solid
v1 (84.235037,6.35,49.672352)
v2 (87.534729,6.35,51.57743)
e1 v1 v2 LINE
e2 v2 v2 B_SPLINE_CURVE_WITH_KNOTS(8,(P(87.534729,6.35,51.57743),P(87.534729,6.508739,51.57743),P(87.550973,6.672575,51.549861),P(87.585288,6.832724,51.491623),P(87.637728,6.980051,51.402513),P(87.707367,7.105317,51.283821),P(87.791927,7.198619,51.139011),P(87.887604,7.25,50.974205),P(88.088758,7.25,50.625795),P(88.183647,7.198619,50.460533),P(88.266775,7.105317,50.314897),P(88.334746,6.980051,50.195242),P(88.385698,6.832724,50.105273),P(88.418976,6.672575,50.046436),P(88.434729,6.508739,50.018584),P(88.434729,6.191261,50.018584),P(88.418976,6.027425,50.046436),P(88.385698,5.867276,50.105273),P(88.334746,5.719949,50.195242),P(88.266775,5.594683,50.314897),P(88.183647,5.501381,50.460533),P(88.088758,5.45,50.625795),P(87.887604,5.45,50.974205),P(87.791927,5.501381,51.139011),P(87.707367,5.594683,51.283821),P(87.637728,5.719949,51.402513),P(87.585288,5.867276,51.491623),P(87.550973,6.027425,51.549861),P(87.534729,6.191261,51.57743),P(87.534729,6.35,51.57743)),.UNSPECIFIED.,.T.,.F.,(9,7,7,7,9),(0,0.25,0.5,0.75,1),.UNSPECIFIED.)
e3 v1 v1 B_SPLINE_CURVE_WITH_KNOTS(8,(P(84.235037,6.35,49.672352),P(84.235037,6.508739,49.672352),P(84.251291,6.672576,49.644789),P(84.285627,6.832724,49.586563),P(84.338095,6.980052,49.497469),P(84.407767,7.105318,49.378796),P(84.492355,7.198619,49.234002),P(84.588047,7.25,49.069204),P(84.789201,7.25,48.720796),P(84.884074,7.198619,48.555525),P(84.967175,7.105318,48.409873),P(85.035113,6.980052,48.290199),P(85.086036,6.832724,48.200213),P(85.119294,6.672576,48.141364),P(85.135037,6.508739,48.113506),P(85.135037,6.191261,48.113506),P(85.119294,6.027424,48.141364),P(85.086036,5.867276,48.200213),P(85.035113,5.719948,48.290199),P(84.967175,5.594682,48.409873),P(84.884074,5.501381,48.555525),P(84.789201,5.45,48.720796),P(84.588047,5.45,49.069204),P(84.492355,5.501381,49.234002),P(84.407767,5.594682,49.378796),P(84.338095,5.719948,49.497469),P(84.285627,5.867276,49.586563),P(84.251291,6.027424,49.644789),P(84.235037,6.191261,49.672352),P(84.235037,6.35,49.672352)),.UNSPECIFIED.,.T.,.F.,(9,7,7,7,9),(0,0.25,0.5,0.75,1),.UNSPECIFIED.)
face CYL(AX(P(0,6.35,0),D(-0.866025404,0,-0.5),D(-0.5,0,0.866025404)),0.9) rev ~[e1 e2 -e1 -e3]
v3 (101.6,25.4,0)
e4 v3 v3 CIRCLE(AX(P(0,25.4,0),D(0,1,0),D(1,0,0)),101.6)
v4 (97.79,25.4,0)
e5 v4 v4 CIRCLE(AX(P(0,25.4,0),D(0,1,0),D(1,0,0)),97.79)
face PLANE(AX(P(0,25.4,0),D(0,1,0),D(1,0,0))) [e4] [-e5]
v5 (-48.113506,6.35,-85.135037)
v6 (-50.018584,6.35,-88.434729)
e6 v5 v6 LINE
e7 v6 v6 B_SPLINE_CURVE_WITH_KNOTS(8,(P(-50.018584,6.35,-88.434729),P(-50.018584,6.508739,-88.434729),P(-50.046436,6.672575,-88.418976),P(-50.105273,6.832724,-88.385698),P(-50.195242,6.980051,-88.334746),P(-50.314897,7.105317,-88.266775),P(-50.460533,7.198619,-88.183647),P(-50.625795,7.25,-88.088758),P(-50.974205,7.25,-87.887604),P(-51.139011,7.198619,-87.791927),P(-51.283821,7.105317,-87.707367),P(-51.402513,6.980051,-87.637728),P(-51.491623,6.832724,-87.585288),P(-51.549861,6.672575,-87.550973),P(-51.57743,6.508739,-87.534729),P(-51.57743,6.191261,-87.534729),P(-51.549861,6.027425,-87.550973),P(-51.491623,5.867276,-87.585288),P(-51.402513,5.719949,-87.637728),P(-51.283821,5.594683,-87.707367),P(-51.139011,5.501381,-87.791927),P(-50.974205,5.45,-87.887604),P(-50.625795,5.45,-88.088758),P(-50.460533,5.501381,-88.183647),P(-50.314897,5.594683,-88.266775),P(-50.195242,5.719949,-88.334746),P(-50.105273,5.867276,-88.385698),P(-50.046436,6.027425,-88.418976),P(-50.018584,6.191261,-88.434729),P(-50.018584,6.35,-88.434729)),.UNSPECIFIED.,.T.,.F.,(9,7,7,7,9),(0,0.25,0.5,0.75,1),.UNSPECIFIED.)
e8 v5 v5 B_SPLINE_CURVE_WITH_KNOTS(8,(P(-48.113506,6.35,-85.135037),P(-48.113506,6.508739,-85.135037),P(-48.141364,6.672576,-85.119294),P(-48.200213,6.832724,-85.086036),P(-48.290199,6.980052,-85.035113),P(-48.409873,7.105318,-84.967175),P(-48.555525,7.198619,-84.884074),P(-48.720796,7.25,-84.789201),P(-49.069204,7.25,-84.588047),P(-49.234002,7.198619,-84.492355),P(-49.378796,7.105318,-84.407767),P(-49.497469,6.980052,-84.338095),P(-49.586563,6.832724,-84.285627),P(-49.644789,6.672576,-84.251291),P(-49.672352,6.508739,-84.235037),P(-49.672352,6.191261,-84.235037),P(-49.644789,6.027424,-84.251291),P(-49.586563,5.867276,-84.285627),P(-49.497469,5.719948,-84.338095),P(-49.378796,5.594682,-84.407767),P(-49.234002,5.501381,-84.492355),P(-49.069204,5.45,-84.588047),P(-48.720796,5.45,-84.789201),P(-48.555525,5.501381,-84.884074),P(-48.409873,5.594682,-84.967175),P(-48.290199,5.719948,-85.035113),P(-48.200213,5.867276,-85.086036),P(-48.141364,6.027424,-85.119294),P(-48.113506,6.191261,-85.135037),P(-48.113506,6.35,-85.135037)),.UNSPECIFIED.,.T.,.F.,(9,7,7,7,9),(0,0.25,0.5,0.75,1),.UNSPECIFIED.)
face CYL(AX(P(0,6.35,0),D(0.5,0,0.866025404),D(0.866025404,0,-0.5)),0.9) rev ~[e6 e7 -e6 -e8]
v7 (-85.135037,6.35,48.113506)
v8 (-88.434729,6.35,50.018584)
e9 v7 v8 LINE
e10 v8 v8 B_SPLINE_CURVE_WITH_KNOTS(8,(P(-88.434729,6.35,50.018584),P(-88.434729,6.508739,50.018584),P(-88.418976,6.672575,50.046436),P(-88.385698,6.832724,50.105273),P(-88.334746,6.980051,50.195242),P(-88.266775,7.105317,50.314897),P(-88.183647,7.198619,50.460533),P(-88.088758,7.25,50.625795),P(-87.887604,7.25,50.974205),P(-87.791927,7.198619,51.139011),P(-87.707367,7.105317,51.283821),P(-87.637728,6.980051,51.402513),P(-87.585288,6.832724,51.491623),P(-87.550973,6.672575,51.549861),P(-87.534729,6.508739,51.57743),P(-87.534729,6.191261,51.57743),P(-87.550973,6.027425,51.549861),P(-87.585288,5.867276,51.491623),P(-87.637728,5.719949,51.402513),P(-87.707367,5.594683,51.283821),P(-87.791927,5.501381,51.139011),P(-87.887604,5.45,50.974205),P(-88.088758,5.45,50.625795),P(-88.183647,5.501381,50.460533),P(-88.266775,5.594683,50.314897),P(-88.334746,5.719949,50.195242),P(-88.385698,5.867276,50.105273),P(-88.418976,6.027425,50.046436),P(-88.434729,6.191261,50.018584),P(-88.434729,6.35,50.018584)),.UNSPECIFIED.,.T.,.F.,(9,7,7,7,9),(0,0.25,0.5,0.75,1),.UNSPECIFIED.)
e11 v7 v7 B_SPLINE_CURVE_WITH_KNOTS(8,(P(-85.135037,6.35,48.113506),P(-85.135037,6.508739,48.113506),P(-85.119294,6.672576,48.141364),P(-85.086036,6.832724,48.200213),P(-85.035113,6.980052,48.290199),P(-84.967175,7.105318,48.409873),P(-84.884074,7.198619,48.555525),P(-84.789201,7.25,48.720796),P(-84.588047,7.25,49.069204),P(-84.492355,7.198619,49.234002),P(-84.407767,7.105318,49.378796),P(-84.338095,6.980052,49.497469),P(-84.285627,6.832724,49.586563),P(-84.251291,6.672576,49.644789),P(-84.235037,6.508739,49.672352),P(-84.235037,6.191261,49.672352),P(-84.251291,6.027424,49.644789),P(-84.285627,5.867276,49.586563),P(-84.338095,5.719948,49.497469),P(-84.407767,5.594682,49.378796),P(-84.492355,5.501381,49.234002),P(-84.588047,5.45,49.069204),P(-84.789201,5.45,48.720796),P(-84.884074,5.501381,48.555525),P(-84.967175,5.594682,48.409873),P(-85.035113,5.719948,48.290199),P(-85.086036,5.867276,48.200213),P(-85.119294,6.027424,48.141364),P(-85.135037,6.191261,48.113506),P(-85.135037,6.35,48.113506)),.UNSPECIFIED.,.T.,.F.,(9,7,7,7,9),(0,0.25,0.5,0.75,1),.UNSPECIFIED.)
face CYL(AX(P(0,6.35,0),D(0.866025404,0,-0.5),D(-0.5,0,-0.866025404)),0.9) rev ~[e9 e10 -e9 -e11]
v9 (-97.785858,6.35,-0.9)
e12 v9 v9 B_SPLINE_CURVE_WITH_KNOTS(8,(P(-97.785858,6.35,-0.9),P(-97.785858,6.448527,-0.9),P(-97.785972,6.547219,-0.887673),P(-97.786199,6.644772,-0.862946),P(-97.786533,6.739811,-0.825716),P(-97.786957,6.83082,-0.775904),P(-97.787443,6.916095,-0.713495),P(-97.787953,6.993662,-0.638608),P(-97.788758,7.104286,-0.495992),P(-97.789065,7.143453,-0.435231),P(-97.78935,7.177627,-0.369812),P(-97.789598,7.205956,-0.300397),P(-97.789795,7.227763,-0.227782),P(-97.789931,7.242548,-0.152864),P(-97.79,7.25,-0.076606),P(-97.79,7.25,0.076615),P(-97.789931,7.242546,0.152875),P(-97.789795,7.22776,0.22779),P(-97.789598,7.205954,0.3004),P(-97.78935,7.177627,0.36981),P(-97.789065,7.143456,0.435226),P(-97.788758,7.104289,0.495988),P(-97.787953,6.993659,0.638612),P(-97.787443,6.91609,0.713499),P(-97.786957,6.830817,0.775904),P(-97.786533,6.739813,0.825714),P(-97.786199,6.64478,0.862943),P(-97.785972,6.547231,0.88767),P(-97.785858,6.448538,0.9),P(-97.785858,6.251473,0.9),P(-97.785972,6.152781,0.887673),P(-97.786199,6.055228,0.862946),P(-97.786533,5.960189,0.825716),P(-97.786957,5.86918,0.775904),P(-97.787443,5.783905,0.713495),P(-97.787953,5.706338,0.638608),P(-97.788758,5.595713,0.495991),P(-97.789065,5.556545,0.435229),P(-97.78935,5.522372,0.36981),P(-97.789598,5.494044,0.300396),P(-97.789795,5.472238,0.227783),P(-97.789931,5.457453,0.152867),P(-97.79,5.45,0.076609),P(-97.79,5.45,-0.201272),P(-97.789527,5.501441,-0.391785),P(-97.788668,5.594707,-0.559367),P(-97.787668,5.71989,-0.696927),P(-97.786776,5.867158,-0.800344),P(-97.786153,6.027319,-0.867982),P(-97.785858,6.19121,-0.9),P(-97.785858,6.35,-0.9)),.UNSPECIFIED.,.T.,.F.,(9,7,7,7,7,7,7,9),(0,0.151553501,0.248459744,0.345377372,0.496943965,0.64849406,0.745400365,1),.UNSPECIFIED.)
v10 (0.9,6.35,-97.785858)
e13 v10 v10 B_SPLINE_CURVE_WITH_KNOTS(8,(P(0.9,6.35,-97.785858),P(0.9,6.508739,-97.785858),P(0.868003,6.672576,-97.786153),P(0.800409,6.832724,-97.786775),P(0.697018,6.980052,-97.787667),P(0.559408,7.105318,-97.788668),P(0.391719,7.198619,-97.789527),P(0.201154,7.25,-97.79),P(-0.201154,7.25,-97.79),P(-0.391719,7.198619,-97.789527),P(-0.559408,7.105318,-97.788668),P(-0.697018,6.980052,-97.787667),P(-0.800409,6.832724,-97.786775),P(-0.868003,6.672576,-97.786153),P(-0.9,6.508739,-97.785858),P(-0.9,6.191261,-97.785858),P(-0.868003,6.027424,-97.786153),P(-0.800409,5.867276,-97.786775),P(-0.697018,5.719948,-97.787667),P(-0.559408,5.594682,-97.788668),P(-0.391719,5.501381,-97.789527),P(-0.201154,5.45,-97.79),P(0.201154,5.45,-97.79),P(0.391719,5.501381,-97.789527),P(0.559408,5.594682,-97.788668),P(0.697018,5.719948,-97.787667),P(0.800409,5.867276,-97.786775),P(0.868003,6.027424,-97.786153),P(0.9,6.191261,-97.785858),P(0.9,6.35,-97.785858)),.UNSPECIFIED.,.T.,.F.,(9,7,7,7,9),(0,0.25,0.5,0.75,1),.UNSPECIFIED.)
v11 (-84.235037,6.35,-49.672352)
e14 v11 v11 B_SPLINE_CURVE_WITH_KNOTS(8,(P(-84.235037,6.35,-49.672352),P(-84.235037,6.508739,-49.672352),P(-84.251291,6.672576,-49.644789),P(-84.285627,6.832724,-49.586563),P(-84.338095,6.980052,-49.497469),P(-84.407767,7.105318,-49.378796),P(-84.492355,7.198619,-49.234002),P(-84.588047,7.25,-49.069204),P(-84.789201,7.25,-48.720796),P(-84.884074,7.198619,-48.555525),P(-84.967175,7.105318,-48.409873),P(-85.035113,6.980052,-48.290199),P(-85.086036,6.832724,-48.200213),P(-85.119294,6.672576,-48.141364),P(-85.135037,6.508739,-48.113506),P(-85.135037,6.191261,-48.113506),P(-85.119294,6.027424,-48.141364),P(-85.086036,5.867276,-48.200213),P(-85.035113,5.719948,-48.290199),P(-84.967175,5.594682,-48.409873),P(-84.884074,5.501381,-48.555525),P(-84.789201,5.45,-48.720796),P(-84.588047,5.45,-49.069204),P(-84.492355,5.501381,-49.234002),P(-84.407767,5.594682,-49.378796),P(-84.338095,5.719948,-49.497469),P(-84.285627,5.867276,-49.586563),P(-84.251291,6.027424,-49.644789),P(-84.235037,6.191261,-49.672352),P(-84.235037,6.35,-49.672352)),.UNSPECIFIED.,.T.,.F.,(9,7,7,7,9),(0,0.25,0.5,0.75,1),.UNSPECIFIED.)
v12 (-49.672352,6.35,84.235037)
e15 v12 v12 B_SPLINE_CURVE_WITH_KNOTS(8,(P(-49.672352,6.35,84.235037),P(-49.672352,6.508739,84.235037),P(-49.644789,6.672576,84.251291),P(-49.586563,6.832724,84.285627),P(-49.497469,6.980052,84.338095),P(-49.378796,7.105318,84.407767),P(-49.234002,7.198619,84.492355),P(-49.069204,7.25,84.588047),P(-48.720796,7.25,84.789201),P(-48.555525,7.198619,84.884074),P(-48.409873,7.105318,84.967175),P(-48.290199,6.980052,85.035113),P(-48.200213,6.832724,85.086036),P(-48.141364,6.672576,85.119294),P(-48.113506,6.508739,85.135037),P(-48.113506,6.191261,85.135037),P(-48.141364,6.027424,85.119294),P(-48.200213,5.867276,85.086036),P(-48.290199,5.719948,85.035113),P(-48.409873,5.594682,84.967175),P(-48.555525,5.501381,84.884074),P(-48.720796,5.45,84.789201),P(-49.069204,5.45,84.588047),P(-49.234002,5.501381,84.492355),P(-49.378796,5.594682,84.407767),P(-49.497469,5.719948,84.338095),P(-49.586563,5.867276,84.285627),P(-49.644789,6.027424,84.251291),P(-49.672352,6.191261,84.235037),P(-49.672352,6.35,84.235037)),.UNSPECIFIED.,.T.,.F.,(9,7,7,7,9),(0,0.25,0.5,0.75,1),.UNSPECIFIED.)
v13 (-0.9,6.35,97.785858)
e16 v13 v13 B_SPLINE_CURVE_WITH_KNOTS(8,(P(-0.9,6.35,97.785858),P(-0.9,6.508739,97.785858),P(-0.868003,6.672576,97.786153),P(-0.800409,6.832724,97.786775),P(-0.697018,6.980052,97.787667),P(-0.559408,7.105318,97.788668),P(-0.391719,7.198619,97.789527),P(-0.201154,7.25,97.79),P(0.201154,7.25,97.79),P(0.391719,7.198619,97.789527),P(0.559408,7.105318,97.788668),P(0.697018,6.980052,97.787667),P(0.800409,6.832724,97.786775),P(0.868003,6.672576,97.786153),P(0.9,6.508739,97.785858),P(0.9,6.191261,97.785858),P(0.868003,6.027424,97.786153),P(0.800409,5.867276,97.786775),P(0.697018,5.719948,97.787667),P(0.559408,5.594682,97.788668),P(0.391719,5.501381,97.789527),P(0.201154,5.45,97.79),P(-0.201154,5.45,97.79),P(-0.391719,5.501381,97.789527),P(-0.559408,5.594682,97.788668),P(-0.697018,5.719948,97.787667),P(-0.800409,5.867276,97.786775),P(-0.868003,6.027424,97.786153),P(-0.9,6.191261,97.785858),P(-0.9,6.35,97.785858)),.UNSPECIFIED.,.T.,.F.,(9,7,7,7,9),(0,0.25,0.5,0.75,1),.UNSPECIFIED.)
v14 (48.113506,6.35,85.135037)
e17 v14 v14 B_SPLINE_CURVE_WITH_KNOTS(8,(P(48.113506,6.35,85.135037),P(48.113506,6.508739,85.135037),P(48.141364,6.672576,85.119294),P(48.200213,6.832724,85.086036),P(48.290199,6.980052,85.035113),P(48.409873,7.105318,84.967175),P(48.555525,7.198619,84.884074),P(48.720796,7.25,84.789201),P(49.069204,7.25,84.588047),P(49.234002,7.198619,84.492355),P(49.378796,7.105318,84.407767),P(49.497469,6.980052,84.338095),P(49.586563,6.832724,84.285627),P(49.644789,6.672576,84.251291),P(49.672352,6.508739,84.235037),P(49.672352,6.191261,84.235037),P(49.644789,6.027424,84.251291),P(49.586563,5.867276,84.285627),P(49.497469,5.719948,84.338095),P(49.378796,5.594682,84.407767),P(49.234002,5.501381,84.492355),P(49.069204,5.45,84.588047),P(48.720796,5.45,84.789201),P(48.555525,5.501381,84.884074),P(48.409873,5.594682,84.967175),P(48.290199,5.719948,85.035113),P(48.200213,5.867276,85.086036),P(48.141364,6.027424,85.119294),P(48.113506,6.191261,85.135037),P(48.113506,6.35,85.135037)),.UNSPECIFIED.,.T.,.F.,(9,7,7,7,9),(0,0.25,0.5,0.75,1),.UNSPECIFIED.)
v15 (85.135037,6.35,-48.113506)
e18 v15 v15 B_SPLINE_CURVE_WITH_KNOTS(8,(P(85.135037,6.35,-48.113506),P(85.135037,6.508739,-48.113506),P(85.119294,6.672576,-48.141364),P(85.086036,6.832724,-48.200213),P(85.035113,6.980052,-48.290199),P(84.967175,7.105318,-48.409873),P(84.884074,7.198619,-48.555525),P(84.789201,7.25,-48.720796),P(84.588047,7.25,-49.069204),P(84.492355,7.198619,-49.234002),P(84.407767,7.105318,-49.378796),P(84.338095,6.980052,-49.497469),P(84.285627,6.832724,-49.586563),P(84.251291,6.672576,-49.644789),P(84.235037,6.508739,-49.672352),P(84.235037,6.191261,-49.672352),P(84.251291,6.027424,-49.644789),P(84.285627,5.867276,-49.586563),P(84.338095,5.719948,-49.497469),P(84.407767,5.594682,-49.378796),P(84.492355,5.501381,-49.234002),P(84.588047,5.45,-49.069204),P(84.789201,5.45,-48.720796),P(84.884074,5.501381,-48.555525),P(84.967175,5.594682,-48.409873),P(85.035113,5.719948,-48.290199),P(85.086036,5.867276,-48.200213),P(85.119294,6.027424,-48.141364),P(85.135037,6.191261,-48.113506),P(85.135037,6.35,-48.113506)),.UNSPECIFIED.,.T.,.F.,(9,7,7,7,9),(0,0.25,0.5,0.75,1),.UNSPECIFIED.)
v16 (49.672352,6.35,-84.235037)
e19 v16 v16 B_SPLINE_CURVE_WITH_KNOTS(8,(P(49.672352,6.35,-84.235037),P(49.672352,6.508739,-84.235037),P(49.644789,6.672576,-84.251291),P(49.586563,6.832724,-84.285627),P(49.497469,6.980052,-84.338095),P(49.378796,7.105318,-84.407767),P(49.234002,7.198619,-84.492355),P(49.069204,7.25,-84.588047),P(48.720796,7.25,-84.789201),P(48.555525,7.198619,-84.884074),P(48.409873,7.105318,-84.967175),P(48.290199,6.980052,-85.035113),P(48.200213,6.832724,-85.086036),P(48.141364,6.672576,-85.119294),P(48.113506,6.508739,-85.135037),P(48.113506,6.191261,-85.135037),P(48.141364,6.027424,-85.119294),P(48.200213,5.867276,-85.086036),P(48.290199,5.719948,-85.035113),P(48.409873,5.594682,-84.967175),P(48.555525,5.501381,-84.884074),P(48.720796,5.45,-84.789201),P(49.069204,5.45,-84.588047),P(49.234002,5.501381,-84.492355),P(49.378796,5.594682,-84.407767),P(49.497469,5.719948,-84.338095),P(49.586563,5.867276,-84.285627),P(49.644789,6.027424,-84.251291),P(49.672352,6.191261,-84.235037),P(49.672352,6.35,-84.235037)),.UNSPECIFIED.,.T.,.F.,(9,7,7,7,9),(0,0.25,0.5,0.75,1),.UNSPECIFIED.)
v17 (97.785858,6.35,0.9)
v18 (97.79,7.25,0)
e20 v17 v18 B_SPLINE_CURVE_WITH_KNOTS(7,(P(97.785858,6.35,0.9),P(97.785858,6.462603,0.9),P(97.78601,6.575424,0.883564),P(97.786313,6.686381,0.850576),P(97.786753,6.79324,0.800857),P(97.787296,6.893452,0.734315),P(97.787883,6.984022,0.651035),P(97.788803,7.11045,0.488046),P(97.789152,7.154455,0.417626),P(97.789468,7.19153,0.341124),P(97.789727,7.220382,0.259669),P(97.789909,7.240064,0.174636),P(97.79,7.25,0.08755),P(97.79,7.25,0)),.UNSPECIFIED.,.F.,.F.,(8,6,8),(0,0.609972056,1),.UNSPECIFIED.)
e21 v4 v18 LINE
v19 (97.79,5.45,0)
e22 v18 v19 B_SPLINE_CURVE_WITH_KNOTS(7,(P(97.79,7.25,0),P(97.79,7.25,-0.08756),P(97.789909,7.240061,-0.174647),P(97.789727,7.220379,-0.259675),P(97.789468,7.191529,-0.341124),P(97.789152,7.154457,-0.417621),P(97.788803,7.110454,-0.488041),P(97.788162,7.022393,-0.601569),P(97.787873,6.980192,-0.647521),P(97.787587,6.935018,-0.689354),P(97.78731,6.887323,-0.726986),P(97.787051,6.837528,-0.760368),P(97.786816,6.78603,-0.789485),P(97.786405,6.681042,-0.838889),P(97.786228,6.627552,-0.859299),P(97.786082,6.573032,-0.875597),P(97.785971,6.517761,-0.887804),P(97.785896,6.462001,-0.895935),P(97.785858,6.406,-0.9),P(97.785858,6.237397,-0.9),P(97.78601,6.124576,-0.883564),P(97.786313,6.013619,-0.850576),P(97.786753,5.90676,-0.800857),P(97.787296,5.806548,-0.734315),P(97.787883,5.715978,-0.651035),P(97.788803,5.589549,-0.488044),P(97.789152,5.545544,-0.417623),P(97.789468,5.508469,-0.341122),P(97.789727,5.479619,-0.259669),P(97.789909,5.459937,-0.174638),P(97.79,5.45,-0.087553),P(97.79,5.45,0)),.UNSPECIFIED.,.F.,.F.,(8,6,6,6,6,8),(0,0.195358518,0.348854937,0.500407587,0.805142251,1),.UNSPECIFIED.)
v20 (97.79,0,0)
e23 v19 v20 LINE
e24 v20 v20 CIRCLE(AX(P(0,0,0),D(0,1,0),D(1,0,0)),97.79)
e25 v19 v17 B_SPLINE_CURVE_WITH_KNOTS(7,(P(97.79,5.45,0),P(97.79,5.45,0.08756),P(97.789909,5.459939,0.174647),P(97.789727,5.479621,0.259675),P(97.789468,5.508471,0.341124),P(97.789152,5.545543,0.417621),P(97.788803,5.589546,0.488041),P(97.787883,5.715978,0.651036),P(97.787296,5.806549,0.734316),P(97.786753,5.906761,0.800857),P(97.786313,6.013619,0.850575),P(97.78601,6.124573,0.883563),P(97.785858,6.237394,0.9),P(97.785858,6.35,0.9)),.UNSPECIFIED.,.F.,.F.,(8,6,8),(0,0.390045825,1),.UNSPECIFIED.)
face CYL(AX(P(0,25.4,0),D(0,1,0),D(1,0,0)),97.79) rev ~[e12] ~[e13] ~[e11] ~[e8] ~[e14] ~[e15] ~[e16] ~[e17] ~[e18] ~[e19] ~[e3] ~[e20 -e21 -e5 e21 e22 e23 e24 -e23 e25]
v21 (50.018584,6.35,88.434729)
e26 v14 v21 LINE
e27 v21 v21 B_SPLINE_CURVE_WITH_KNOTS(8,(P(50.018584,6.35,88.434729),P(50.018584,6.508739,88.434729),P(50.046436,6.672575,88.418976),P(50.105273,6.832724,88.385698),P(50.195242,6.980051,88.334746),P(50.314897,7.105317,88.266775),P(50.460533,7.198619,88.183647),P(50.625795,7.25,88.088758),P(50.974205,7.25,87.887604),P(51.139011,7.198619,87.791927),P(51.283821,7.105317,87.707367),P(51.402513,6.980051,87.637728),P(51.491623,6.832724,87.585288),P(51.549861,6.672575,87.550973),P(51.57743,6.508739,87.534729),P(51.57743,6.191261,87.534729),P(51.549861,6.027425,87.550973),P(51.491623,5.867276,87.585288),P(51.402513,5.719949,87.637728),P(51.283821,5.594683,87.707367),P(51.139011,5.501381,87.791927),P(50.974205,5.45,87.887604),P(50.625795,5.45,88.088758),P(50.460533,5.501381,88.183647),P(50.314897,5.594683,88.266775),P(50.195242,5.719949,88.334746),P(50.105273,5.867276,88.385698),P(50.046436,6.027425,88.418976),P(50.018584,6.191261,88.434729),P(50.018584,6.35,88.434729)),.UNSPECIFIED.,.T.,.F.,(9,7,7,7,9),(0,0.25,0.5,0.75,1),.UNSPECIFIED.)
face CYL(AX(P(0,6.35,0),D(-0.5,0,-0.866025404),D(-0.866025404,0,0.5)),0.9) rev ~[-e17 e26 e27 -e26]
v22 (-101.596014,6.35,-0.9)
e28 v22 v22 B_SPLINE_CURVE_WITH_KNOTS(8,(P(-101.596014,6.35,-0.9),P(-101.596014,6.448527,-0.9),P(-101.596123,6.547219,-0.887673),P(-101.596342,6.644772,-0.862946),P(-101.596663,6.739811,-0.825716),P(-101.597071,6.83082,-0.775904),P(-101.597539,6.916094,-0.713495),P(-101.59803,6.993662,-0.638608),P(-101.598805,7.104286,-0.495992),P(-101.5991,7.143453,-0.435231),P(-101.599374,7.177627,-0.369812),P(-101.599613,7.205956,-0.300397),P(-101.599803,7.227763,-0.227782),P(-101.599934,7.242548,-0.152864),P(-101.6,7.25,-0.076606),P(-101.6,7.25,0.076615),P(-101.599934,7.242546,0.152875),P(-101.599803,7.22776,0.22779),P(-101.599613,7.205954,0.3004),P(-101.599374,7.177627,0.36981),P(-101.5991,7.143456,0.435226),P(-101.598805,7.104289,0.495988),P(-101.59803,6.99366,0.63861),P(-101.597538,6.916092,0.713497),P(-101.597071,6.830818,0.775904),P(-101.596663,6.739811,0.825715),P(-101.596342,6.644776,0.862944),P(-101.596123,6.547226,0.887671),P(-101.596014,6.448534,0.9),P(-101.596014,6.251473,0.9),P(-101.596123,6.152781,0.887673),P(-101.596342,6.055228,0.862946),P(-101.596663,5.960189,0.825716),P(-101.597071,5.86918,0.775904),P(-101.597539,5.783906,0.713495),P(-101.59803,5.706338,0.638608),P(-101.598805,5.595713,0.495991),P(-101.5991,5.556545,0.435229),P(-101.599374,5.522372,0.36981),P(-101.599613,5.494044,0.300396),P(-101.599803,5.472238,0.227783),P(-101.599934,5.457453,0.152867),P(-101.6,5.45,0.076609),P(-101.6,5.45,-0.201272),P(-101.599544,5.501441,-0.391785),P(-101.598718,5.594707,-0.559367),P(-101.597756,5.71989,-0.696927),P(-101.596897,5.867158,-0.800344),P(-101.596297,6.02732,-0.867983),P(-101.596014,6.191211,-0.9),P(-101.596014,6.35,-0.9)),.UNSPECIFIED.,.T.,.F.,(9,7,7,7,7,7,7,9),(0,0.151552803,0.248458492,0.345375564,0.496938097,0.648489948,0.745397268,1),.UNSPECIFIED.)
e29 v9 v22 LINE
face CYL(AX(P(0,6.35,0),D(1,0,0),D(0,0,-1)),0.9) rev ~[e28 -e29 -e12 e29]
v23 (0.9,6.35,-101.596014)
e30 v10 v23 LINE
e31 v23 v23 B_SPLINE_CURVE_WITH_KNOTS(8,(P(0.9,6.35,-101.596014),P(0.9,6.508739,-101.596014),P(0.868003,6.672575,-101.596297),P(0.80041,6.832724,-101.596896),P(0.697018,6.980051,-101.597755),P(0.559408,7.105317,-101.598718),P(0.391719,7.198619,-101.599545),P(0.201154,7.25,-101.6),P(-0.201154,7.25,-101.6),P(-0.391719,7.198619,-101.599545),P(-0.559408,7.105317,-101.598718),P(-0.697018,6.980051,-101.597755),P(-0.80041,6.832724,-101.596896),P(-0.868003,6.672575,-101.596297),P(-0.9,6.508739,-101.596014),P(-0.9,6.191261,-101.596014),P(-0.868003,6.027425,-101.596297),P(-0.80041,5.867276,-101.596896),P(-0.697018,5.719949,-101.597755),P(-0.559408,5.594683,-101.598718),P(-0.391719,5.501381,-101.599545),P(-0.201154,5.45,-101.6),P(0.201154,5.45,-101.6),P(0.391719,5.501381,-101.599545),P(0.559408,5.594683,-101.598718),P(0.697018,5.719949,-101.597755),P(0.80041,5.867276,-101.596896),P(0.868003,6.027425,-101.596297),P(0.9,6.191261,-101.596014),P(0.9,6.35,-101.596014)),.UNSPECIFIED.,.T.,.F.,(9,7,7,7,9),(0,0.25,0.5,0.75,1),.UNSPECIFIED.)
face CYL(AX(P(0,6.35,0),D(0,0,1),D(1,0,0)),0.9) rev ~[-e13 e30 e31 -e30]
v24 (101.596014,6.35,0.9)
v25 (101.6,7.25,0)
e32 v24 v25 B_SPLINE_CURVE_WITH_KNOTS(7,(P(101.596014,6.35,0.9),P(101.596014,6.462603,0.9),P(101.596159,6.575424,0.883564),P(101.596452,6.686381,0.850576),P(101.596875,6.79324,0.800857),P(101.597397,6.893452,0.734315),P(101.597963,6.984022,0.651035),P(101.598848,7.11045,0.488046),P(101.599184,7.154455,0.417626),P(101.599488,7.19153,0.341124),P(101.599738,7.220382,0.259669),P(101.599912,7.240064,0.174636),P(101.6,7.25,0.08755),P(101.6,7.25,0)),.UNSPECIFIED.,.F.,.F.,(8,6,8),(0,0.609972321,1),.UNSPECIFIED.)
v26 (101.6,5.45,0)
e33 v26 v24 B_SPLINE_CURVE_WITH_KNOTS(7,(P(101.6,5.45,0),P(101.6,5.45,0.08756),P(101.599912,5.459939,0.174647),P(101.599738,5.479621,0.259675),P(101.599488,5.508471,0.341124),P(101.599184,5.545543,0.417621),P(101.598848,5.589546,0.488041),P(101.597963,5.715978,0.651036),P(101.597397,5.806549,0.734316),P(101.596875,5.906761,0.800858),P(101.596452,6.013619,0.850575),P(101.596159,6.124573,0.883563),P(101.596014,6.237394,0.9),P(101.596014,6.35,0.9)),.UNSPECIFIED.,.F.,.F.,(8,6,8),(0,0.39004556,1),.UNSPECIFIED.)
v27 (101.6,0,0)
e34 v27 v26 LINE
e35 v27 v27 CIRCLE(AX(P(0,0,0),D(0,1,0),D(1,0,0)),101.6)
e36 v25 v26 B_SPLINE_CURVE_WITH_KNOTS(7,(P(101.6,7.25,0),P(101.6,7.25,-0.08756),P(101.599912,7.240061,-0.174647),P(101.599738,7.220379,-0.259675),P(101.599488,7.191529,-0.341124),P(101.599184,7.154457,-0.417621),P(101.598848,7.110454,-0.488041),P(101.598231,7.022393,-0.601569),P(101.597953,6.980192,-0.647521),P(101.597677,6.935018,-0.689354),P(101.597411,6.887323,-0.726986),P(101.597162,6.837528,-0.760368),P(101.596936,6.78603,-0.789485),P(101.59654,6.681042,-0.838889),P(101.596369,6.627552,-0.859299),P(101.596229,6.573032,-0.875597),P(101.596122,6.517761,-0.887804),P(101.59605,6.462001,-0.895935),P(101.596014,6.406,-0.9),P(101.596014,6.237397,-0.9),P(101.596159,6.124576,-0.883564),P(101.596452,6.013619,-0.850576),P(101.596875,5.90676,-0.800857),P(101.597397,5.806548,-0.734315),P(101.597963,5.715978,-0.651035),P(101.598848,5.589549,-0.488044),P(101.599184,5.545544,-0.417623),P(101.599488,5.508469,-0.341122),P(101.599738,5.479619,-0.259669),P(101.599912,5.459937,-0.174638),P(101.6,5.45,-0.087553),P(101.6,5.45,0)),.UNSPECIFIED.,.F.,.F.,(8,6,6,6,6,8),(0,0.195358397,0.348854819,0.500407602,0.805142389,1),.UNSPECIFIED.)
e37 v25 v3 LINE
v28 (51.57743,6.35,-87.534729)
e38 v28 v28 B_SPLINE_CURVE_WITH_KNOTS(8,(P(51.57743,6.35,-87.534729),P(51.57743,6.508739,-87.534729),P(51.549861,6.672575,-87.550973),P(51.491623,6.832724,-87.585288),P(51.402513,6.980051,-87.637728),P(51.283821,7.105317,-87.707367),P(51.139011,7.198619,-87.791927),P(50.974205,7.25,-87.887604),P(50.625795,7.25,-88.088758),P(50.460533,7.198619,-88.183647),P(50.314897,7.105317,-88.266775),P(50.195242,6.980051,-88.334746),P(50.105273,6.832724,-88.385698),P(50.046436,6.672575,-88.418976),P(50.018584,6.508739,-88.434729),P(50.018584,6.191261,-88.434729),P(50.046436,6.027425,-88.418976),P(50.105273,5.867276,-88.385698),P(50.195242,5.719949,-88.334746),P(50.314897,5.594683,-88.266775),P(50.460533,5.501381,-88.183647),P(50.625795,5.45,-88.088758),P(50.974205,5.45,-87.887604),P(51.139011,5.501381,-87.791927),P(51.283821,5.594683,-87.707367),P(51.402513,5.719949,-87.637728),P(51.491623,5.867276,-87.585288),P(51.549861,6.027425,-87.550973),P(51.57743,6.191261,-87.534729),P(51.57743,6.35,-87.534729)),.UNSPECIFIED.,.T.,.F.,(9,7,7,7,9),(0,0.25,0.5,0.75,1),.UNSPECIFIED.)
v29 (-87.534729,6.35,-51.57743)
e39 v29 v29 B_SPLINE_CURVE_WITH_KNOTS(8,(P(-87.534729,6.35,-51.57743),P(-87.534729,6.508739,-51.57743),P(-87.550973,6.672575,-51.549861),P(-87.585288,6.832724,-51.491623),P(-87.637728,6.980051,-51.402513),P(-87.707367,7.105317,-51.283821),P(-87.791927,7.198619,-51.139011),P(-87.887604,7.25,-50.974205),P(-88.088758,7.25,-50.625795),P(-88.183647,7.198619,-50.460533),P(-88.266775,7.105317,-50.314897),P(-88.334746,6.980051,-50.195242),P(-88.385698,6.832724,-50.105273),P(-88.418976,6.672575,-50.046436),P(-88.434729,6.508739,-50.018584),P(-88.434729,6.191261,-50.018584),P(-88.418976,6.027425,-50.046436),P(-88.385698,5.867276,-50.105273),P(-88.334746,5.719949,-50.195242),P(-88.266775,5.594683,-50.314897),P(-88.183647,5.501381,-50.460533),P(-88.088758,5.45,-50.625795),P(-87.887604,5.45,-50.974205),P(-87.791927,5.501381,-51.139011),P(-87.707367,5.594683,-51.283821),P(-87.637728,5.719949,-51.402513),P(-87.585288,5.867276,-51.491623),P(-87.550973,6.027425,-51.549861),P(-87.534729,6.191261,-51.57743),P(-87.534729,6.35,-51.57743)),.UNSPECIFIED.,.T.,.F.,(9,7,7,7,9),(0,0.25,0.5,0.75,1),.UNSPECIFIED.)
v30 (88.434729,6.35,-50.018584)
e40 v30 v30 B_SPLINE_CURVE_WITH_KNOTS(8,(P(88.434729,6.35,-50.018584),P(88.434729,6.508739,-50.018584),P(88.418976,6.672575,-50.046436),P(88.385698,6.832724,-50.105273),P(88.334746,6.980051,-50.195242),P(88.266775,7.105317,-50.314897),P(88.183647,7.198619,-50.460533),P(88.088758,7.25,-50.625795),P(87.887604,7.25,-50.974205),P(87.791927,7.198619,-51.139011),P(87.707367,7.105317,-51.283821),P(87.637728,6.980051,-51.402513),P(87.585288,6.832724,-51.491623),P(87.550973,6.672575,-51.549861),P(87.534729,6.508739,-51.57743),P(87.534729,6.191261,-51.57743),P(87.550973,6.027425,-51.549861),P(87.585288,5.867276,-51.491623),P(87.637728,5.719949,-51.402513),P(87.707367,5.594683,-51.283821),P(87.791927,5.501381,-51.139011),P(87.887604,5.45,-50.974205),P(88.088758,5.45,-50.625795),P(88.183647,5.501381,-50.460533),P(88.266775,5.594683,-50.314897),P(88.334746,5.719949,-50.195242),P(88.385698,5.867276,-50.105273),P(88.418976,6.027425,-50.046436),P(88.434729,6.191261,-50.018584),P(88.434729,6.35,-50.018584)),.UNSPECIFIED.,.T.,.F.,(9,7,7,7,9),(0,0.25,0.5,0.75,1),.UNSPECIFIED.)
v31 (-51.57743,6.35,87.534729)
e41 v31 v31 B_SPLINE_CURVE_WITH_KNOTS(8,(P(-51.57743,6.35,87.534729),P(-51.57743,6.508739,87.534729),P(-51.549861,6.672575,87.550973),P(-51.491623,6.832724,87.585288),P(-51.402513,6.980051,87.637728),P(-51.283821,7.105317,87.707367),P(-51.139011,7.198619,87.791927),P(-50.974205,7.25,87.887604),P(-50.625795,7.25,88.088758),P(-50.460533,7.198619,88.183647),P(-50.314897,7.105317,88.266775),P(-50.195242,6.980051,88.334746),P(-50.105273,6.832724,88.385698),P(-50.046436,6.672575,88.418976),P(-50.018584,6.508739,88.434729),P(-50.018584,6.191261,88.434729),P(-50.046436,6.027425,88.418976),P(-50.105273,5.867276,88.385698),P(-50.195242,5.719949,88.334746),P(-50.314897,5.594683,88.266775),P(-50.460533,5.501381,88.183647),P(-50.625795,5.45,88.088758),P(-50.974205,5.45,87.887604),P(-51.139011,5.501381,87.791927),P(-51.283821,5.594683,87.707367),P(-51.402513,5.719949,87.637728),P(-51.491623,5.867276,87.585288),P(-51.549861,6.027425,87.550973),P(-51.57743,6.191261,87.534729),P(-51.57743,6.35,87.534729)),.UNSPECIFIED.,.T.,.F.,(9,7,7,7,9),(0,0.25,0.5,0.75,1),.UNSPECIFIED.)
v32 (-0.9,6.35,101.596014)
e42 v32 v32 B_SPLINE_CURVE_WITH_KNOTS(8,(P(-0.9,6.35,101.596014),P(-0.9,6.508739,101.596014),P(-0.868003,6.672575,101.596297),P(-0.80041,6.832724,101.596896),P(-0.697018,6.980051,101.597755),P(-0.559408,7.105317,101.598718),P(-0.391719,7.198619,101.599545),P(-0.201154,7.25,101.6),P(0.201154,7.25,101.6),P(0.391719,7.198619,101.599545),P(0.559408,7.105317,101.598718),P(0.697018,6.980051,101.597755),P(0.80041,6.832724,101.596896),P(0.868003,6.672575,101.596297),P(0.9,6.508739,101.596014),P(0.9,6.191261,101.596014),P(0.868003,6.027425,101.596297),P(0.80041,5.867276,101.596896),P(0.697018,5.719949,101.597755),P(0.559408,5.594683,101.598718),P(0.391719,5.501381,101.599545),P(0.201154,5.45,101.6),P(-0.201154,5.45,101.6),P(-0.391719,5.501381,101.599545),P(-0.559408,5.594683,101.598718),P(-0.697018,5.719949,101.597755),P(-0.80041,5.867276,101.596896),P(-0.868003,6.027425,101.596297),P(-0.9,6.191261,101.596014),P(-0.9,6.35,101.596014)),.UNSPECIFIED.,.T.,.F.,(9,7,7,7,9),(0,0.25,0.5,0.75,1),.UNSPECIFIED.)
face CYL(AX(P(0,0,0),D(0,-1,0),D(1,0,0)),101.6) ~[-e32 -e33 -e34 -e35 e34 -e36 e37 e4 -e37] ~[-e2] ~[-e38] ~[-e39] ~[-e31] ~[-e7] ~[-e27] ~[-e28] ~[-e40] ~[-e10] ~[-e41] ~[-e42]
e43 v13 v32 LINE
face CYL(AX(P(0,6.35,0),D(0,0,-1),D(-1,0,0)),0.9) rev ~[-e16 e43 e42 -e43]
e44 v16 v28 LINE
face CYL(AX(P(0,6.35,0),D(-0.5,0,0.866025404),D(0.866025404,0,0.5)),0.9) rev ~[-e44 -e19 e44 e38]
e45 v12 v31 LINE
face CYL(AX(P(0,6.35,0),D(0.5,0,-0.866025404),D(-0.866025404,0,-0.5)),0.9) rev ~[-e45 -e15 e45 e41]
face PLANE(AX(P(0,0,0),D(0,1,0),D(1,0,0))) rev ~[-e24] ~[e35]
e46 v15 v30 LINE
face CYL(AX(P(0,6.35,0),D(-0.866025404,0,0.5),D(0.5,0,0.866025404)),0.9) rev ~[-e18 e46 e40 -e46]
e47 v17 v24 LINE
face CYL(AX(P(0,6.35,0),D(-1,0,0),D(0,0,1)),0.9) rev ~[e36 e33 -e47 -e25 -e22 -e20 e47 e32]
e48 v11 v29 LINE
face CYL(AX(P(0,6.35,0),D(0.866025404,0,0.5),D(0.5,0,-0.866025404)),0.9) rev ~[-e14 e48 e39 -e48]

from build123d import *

# Parameters (mm, degrees)
SKETCH1_R           = 101.6
SKETCH1_R_2         = 82.55
BOSS_EXTRUDE1_DEPTH = 25.4
SKETCH2_R           = 97.79
SKETCH2_R_2         = 63.5
CUT_EXTRUDE1_DEPTH  = 50.8
SKETCH3_R           = 0.9
CUT_EXTRUDE2_DEPTH  = 254
CIRPATTERN1_COUNT   = 12


with BuildPart() as part:
    # Sketch1 → Boss-Extrude1 (new body)
    with BuildSketch(Plane(origin=(0, 0, 0), x_dir=(1, 0, 0), z_dir=(0, 1, 0))):
        Circle(SKETCH1_R)
        Circle(SKETCH1_R_2, mode=Mode.SUBTRACT)
    extrude(amount=BOSS_EXTRUDE1_DEPTH)

    # Sketch2 → Cut-Extrude1 (cut)
    with BuildSketch(Plane(origin=(0, 25.4, 0), x_dir=(1, 0, 0), z_dir=(0, 1, 0))):
        Circle(SKETCH2_R)
        Circle(SKETCH2_R_2, mode=Mode.SUBTRACT)
    extrude(amount=-CUT_EXTRUDE1_DEPTH, mode=Mode.SUBTRACT)

    # Sketch3 → Cut-Extrude2 (cut)
    with BuildSketch(Plane.XY):
        with Locations((0, 6.35)):
            Circle(SKETCH3_R)
    cut_extrude2 = extrude(amount=-CUT_EXTRUDE2_DEPTH, mode=Mode.SUBTRACT)

    # CirPattern1: Cut-Extrude2 ×12 about axis
    cirpattern1_axis = Axis((0, 25.4, 0), (0, 1, 0))
    for i in range(1, CIRPATTERN1_COUNT):
        add(cut_extrude2.rotate(cirpattern1_axis, i * 360 / CIRPATTERN1_COUNT), mode=Mode.SUBTRACT)


solid = part.part
